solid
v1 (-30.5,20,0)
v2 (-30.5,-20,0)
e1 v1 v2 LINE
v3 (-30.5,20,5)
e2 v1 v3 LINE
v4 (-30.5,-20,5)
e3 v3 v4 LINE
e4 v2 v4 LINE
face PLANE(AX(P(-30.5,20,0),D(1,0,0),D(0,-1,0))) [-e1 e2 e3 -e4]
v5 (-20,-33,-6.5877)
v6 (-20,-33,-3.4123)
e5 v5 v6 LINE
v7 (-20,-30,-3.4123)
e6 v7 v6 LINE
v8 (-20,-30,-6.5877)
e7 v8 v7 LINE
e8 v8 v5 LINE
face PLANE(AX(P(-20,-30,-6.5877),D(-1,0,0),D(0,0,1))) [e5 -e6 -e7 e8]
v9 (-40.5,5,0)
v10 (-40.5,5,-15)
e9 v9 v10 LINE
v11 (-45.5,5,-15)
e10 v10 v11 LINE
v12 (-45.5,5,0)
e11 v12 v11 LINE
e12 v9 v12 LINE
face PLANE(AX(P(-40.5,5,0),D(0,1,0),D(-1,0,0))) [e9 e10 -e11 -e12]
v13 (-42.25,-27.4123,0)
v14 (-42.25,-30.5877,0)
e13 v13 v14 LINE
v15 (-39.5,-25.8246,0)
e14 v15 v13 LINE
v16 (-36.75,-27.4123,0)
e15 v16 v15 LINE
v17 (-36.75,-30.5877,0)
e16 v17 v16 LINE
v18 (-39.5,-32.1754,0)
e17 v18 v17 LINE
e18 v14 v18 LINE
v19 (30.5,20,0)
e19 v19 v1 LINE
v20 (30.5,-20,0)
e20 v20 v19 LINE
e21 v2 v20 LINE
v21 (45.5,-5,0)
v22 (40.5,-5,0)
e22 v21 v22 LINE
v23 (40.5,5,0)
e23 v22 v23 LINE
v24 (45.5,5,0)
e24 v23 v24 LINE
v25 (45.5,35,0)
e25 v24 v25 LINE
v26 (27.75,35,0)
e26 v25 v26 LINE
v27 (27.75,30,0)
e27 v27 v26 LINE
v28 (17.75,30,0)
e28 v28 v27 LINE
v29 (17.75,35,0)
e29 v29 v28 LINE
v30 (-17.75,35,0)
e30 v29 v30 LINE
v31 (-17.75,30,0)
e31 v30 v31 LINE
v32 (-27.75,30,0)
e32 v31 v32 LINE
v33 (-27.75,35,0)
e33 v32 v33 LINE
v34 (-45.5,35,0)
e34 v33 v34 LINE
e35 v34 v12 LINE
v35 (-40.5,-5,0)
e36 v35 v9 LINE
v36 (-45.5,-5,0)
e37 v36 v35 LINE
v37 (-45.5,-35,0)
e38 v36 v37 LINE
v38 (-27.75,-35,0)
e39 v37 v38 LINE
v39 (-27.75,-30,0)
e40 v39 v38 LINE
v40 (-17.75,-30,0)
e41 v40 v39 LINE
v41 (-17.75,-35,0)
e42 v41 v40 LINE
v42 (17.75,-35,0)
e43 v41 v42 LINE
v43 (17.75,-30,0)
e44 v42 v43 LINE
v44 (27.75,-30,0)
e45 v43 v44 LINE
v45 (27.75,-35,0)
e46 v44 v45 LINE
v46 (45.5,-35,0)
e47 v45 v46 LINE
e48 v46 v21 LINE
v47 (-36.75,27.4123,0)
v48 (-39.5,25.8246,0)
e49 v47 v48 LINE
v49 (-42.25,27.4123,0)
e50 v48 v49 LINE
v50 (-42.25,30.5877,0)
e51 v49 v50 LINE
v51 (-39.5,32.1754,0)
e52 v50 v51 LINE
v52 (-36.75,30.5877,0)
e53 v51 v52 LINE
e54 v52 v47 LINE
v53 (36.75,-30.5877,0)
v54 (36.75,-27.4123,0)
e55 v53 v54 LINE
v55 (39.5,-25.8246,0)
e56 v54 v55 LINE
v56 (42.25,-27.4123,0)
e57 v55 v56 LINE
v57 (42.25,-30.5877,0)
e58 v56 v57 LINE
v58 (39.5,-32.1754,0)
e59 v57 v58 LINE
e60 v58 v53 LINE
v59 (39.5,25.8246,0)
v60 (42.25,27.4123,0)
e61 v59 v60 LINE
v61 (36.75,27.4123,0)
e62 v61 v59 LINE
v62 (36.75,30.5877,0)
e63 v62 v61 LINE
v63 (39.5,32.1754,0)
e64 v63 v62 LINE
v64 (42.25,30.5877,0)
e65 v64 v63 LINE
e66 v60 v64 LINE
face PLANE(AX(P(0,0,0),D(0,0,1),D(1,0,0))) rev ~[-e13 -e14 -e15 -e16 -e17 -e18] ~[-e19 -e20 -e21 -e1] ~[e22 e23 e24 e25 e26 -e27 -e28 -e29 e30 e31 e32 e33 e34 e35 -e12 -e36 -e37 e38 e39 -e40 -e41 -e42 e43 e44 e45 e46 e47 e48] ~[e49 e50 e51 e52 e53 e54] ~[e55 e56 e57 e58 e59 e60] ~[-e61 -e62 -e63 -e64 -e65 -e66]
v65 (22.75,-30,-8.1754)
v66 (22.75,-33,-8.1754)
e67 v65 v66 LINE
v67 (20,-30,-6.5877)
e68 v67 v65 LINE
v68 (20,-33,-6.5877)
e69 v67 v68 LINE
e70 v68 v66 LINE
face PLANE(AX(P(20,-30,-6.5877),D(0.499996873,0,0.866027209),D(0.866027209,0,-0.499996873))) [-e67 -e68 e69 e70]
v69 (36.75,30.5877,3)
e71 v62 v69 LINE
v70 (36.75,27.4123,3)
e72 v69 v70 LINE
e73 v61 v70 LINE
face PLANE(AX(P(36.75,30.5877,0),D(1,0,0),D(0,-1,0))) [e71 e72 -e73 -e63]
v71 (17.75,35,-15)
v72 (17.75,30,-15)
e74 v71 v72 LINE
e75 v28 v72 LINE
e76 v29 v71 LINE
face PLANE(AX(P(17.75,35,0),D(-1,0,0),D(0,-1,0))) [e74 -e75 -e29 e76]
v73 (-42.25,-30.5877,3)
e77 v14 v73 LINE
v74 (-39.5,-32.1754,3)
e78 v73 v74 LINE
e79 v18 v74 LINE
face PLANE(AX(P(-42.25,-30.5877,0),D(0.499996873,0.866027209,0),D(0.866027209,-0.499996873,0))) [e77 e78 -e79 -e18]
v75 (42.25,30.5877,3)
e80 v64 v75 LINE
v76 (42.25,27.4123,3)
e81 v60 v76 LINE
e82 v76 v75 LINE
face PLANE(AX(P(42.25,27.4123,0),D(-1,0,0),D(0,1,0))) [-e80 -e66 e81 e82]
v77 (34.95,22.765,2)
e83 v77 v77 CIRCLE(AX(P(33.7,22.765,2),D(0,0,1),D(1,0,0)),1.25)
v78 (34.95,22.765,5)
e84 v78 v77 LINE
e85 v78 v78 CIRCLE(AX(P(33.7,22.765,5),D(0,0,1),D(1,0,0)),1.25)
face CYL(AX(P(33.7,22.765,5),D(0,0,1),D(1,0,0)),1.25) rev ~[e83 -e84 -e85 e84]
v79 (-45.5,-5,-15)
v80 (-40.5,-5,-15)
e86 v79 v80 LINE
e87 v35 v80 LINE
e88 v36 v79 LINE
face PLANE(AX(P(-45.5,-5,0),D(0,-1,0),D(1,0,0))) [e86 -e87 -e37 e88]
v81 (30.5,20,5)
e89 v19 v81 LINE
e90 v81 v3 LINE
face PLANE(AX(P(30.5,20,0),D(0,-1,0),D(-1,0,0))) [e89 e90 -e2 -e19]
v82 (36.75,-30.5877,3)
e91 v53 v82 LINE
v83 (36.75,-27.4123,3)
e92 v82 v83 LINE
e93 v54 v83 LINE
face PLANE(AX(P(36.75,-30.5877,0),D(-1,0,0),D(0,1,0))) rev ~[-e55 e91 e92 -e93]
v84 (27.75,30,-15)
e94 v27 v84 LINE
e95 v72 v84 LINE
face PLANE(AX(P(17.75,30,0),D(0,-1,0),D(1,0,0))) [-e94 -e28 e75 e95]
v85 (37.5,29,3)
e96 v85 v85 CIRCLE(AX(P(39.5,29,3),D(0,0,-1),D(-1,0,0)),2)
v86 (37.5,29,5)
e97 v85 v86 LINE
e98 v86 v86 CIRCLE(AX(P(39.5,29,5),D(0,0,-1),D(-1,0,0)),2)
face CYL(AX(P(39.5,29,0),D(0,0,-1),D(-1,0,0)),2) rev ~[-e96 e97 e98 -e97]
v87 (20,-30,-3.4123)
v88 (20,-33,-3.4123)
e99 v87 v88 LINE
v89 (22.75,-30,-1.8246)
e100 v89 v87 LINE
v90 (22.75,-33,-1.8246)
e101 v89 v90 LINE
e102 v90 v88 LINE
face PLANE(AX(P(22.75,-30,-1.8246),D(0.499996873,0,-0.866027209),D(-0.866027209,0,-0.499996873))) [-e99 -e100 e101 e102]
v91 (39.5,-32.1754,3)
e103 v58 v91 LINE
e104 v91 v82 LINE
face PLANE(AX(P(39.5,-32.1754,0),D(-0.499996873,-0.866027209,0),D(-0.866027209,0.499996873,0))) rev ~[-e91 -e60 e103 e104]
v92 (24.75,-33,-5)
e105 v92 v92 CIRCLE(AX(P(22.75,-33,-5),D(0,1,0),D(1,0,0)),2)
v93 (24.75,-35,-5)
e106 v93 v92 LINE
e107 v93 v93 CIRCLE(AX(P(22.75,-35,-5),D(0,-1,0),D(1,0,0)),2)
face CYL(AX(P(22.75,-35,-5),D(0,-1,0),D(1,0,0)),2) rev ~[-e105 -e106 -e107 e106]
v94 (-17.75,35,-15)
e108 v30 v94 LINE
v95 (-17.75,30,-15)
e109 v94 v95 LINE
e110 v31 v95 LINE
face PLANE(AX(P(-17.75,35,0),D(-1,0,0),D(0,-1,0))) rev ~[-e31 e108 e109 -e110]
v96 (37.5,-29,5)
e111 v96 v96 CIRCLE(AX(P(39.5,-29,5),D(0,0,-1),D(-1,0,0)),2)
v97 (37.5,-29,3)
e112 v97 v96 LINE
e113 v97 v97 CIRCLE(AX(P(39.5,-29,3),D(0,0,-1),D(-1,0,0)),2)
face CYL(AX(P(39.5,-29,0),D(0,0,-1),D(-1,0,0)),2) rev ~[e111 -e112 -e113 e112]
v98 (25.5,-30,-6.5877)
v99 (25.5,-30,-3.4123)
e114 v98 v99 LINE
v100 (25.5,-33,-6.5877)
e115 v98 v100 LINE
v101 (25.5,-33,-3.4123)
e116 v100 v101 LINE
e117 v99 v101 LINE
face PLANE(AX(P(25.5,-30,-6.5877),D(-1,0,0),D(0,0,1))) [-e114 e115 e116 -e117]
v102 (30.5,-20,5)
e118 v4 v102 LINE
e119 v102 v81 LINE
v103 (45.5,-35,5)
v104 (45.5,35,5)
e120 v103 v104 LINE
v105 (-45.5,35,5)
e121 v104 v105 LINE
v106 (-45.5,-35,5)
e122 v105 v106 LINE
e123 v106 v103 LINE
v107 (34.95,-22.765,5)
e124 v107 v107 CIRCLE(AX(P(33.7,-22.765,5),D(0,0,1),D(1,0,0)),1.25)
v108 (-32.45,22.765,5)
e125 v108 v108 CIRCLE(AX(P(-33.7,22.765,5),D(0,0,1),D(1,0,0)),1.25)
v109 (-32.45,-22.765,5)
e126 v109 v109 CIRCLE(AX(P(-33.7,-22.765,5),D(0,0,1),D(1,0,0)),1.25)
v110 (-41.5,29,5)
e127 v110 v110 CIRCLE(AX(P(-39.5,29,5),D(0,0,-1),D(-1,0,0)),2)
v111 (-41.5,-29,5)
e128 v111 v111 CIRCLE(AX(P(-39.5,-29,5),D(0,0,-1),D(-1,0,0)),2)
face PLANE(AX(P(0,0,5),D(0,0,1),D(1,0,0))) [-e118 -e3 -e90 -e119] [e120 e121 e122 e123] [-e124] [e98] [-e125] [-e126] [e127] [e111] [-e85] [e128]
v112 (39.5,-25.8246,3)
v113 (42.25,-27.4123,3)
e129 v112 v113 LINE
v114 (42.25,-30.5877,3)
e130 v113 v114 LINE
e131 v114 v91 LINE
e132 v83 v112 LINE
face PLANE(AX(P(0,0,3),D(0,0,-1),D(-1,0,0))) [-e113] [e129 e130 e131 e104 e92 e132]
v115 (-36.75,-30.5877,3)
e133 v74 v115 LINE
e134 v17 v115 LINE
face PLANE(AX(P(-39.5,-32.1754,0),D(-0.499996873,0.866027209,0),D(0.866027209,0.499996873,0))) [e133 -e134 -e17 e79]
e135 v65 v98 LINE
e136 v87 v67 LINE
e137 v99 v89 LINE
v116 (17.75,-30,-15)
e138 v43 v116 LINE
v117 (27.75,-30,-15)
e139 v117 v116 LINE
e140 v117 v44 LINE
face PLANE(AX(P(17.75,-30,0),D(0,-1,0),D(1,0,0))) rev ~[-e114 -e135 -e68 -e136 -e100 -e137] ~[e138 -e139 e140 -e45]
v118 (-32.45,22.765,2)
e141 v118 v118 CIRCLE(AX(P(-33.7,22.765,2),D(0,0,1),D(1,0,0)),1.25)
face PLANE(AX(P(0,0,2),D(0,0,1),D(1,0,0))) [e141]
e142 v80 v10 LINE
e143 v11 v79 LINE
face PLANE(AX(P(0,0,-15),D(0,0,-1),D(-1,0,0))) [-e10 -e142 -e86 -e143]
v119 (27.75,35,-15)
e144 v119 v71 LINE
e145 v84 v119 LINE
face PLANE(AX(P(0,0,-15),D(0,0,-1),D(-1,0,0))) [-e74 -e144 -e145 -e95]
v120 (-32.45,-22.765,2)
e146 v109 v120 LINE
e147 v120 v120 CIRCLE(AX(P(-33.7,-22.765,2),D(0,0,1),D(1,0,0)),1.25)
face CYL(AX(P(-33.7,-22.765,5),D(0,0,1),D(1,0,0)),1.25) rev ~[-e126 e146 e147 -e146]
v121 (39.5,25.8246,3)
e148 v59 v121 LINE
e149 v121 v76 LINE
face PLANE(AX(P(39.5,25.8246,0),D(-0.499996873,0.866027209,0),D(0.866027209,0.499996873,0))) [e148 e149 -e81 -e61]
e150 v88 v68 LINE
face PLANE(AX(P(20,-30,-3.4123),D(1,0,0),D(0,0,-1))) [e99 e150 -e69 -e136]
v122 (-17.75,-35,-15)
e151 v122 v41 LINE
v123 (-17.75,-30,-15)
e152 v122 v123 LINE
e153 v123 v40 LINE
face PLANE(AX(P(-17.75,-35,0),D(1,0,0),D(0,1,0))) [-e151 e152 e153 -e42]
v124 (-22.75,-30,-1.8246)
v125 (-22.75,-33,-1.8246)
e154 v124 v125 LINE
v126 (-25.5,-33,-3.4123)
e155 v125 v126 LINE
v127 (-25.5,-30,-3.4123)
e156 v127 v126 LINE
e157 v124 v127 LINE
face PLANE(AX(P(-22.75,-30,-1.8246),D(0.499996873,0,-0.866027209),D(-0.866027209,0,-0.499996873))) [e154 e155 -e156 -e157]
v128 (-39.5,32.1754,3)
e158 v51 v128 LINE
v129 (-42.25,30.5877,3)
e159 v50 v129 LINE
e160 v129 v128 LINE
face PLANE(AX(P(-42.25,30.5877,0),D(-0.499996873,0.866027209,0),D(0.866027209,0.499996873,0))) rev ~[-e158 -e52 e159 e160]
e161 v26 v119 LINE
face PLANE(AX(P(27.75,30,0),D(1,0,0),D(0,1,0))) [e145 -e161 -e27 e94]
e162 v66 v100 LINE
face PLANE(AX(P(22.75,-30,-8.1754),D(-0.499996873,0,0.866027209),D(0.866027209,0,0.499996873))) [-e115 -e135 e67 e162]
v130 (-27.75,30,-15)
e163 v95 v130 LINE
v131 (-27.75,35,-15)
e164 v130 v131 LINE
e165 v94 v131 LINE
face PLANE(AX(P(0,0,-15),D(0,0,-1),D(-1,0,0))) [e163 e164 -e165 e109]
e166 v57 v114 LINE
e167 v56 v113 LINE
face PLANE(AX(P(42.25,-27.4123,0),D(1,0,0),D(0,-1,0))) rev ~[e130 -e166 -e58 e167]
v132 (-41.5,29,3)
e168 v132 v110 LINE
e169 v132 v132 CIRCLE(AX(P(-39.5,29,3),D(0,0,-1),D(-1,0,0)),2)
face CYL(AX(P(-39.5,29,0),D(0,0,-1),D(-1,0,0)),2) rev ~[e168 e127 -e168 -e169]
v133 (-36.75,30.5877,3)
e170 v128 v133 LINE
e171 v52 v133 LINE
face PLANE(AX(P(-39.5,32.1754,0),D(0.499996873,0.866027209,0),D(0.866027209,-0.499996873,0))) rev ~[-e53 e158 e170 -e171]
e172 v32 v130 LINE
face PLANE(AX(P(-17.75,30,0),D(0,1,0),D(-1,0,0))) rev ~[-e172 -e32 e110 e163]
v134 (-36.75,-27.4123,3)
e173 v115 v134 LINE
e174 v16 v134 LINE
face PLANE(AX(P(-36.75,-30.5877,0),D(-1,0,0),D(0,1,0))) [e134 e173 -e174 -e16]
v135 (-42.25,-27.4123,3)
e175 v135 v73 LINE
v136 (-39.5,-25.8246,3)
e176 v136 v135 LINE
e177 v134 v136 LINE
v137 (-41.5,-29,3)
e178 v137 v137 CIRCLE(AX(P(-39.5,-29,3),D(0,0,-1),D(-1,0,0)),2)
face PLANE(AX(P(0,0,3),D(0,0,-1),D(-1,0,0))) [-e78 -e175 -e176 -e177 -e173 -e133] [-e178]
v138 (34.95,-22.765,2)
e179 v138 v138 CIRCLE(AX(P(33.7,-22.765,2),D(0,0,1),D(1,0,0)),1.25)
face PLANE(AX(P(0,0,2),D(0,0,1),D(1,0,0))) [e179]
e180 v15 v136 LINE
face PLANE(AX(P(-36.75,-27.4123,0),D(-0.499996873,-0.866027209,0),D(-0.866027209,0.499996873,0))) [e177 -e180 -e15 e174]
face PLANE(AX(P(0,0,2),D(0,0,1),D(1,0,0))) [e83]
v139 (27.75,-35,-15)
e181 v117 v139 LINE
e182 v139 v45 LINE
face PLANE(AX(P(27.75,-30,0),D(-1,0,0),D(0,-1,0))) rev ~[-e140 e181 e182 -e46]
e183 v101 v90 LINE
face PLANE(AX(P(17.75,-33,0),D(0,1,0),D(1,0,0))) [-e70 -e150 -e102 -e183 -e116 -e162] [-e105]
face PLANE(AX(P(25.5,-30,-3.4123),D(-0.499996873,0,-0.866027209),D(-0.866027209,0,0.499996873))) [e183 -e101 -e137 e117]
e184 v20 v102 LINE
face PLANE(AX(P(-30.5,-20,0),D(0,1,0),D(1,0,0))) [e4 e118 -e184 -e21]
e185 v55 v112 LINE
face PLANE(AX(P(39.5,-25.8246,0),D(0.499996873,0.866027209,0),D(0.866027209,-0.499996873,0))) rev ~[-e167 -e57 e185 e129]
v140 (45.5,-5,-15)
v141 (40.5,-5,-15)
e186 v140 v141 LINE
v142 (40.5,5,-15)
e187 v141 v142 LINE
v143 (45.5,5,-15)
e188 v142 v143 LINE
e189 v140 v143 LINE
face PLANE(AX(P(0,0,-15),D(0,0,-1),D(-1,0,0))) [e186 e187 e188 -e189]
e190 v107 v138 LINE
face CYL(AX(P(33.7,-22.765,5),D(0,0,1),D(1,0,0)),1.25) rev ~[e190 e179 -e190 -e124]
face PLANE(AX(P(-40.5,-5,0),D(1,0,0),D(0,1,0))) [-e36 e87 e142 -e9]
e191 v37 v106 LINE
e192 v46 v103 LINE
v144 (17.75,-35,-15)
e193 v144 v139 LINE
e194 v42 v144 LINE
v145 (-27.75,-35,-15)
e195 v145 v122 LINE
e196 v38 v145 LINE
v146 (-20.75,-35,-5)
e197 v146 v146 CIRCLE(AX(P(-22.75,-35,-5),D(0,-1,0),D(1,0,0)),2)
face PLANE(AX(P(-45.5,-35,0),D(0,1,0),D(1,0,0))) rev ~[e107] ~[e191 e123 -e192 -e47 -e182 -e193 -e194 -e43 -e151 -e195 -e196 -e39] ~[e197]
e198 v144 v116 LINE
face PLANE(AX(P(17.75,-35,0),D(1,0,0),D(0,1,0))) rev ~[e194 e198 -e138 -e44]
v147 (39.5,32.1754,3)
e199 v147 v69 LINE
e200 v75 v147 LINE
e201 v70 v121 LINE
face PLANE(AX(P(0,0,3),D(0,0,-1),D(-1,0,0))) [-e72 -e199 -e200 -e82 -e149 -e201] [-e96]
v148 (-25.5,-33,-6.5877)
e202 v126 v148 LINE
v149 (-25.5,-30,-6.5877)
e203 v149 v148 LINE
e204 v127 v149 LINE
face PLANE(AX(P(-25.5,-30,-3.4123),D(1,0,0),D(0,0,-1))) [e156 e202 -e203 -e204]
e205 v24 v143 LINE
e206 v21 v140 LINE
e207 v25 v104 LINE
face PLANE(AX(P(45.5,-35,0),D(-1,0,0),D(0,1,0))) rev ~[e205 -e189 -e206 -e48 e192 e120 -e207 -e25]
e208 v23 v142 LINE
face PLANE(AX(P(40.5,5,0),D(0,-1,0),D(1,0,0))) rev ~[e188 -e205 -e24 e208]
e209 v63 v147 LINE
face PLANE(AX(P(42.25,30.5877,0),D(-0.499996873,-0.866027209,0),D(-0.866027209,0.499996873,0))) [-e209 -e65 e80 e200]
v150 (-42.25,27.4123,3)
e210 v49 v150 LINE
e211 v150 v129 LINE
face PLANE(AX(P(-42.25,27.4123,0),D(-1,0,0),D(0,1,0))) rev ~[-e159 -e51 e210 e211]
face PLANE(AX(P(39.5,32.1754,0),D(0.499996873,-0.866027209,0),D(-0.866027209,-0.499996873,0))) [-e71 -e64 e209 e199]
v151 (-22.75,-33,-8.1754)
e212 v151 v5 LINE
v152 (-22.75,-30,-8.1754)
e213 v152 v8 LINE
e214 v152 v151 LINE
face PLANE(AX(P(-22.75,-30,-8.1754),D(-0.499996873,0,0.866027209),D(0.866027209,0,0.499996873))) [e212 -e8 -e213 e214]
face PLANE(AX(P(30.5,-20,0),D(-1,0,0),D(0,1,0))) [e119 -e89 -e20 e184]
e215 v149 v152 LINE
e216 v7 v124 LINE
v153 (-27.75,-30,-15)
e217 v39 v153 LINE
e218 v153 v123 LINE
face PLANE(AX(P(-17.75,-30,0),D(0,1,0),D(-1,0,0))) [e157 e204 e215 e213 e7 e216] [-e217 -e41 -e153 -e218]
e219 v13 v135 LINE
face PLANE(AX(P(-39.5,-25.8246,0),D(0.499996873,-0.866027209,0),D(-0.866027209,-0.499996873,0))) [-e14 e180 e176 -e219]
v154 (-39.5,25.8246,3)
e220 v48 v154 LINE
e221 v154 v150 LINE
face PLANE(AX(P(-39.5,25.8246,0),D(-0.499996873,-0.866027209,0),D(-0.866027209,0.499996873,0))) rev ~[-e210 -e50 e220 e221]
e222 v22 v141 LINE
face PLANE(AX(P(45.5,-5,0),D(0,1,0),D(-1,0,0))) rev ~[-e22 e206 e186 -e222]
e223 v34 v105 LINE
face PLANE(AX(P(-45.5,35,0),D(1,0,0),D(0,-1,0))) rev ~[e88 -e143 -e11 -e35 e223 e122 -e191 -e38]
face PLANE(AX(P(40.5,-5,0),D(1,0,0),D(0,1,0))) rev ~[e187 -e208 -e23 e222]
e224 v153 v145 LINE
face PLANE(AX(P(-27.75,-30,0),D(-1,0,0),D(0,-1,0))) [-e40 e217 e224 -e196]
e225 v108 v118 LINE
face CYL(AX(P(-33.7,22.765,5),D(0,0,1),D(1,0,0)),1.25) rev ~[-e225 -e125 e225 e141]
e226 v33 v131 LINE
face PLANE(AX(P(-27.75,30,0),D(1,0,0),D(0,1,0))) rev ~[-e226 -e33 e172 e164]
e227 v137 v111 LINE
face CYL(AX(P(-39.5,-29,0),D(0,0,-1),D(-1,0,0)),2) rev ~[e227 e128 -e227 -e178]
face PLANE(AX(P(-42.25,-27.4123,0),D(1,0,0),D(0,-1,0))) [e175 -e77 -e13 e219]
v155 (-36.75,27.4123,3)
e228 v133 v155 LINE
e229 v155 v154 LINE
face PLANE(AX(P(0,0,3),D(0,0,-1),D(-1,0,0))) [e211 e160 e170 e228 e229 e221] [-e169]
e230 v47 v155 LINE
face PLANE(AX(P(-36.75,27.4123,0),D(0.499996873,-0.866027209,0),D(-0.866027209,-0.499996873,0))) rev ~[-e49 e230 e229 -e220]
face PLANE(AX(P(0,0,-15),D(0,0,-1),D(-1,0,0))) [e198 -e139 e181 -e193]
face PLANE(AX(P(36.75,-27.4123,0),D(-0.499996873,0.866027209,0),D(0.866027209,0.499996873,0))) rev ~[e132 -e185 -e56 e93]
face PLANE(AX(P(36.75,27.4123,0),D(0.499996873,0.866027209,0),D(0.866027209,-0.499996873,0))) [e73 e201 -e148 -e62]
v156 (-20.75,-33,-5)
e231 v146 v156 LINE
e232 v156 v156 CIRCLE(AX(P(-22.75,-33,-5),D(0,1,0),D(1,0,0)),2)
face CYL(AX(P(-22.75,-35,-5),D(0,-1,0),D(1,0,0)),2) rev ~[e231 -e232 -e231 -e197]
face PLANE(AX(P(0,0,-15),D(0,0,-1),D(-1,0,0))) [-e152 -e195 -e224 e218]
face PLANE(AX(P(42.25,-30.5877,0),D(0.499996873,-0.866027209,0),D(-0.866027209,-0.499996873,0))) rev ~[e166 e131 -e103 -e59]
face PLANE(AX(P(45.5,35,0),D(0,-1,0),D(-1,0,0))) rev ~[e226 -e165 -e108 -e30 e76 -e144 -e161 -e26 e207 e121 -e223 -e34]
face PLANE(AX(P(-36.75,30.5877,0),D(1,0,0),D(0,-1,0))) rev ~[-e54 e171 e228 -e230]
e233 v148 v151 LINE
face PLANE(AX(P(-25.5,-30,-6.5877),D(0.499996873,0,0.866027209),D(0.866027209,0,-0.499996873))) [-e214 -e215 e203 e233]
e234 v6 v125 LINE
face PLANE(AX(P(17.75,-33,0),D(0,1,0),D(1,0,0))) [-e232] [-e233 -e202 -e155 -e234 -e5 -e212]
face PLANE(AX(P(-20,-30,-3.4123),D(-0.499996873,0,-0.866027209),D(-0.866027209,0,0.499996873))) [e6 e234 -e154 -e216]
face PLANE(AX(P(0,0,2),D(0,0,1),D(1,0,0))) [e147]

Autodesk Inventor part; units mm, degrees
ref_plane "YZ Plane" through (0, 0, 0) normal (1, 0, 0) x (0, 1, 0)
ref_plane "XZ Plane" through (0, 0, 0) normal (0, 1, 0) x (-1, 0, 0)
ref_plane "XY Plane" through (0, 0, 0) normal (0, 0, 1) x (1, 0, 0)
sketch "Sketch1" plane through (0, 0, 0) normal (0, 0, 1) x (1, 0, 0)
  line L0 (-30.5, -20) -> (30.5, -20)
  line L1 (30.5, -20) -> (30.5, 20)
  line L2 (30.5, 20) -> (-30.5, 20)
  line L3 (-30.5, 20) -> (-30.5, -20)
  line L4 (-30.5, -20) -> (30.5, 20) construction
  line L5 (30.5, -20) -> (-30.5, 20) construction
  line L6 (-45.5, -35) -> (45.5, -35)
  line L7 (45.5, -35) -> (45.5, 35)
  line L8 (45.5, 35) -> (-45.5, 35)
  line L9 (-45.5, 35) -> (-45.5, -35)
  line L10 (-45.5, -35) -> (45.5, 35) construction
  line L11 (45.5, -35) -> (-45.5, 35) construction
  point P0 (0, 0)
  dimension "d0" = 61
  dimension "d1" = 40
  dimension "d2" = 15
  dimension "d3" = 15
extrude "Rim" add sketch "Sketch1" along normal blind 5
sketch "Sketch2" plane through (0, 0, 5) normal (0, 0, 1) x (1, 0, 0)
  line L0 (-33.7, -22.765) -> (33.7, -22.765) construction
  line L1 (33.7, -22.765) -> (33.7, 22.765) construction
  line L2 (33.7, 22.765) -> (-33.7, 22.765) construction
  line L3 (-33.7, 22.765) -> (-33.7, -22.765) construction
  line L4 (-33.7, -22.765) -> (33.7, 22.765) construction
  line L5 (33.7, -22.765) -> (-33.7, 22.765) construction
  circle A0 centre (33.7, 22.765) radius 1.25
  line L6 (0, 22.765) -> (0, -22.765) construction
  line L7 (-30.5, -20) -> (-30.5, 20) projected
  line L8 (-30.5, 0) -> (33.7, 0) construction
  circle A1 centre (-33.7, 22.765) radius 1.25
  circle A2 centre (33.7, -22.765) radius 1.25
  circle A3 centre (-33.7, -22.765) radius 1.25
  point P0 (0, 0)
  dimension "d6" = 67.4
  dimension "d7" = 45.53
  dimension "d8" = 2.5
extrude "Pegs" cut sketch "Sketch2" against normal blind 3
sketch "Sketch3" plane through (0, 0, 0) normal (0, 0, -1) x (-1, 0, 0)
  line L0 (-39.5, 25.8246) -> (-42.25, 27.4123)
  line L1 (-36.75, 27.4123) -> (-39.5, 25.8246)
  line L2 (-42.25, 27.4123) -> (-42.25, 30.5877)
  line L3 (-36.75, 30.5877) -> (-36.75, 27.4123)
  circle A0 centre (-39.5, 29) radius 2
  line L4 (-39.5, 32.1754) -> (-36.75, 30.5877)
  line L5 (-42.25, 30.5877) -> (-39.5, 32.1754)
  line L6 (-45.5, 35) -> (35.9035, 35)
  line L7 (-45.5, 35) -> (-45.5, 29)
  line L8 (-45.5, -35) -> (-45.5, 35) projected
  line L9 (-45.5, 29) -> (-39.5, 29) construction
  line L10 (-45.5, -35) -> (-45.5, 35) projected
  line L11 (-45.5, 35) -> (45.5, 35) projected
  line L12 (0, 35) -> (0, -35) construction
  line L13 (45.5, -35) -> (-45.5, -35) projected
  line L14 (-45.5, 0) -> (45.5, 0) construction
  line L15 (45.5, 35) -> (45.5, -35) projected
  line L16 (39.5, 25.8246) -> (42.25, 27.4123)
  line L17 (36.75, 27.4123) -> (39.5, 25.8246)
  line L18 (42.25, 27.4123) -> (42.25, 30.5877)
  line L19 (36.75, 30.5877) -> (36.75, 27.4123)
  circle A1 centre (39.5, 29) radius 2
  line L20 (39.5, 32.1754) -> (36.75, 30.5877)
  line L21 (42.25, 30.5877) -> (39.5, 32.1754)
  line L22 (45.5, 29) -> (39.5, 29) construction
  line L23 (-39.5, -25.8246) -> (-42.25, -27.4123)
  line L24 (-36.75, -27.4123) -> (-39.5, -25.8246)
  line L25 (-42.25, -27.4123) -> (-42.25, -30.5877)
  line L26 (-36.75, -30.5877) -> (-36.75, -27.4123)
  circle A2 centre (-39.5, -29) radius 2
  line L27 (-39.5, -32.1754) -> (-36.75, -30.5877)
  line L28 (-42.25, -30.5877) -> (-39.5, -32.1754)
  line L29 (36.75, -30.5877) -> (36.75, -27.4123)
  line L30 (39.5, -32.1754) -> (36.75, -30.5877)
  circle A3 centre (39.5, -29) radius 2
  line L31 (42.25, -30.5877) -> (39.5, -32.1754)
  line L32 (42.25, -27.4123) -> (42.25, -30.5877)
  line L33 (39.5, -25.8246) -> (42.25, -27.4123)
  line L34 (36.75, -27.4123) -> (39.5, -25.8246)
  point P0 (0, 0)
  dimension "d11" = 3.1754
  dimension "d12" = 4
  dimension "d13" = 6
  dimension "d14" = 6
extrude "Nut Hexes" cut sketch "Sketch3" against normal blind 3 contours L0 L2 L5 L4 L3 L1 | L17 L19 L20 L21 L18 L16 | L24 L26 L27 L28 L25 L23 | L29 L34 L33 L32 L31 L30
sketch "Sketch4" plane through (0, 0, 0) normal (0, 0, -1) x (-1, 0, 0)
  circle A0 centre (-39.5, 29) radius 2 projected
  circle A1 centre (39.5, 29) radius 2 projected
  circle A2 centre (39.5, -29) radius 2 projected
  circle A3 centre (-39.5, -29) radius 2 projected
  point P0 (0, 0)
extrude "Bolt Holes" cut sketch "Sketch4" against normal up to next
sketch "For Construction" plane through (0, 0, 5) normal (0, 0, 1) x (1, 0, 0)
  circle A0 centre (33.7, -22.765) radius 1.25 projected
  circle A1 centre (39.5, -29) radius 2 projected
  point P0 (0, 0)
  point P1 (34.95, -22.765)
  point P2 (37.901, -27.7986)
  dimension "d19" = 5.2656
sketch "Sketch7" plane through (0, 0, 0) normal (0, 0, -1) x (-1, 0, 0)
  line L0 (45.5, -35) -> (-45.5, -35) projected
  line L1 (45.5, -35) -> (0, -35)
  line L2 (27.75, -35) -> (17.75, -35)
  line L3 (17.75, -35) -> (17.75, -30)
  line L4 (17.75, -30) -> (27.75, -30)
  line L5 (27.75, -30) -> (27.75, -35)
  line L6 (0, -35) -> (0, 35.2559) construction
  line L7 (-27.75, -35) -> (-17.75, -35)
  line L8 (-17.75, -35) -> (-17.75, -30)
  line L9 (-17.75, -30) -> (-27.75, -30)
  line L10 (-27.75, -30) -> (-27.75, -35)
  point P0 (0, 0)
  point P1 (22.75, -35)
  point P2 (-22.75, -35)
  dimension "d20" = 5
  dimension "d21" = 10
extrude "Attachment Points" add sketch "Sketch7" along normal blind 10
sketch "Sketch9" plane through (-45.5, -35, 5) normal (0, -1, 0) x (1, 0, 0)
  circle A0 centre (22.75, -10) radius 2 projected
  circle A1 centre (68.25, -10) radius 2 projected
  point P0 (45.5, -5)
  point P1 (22.75, -8)
  point P2 (68.25, -8)
extrude "Connection Holes" cut sketch "Sketch9" against normal up to next
sketch "Sketch10" plane through (0, 0, 0) normal (0, 0, -1) x (-1, 0, 0)
  line L0 (45.5, 35) -> (45.5, -35) projected
  line L1 (-45.5, -35) -> (-45.5, 35) projected
  line L2 (-45.5, 35) -> (45.5, 35) projected
  line L3 (0, 35) -> (45.5, 35)
  line L4 (0, 35) -> (-45.5, 35)
  line L5 (45.5, -5) -> (40.5, -5)
  line L6 (40.5, -5) -> (40.5, 5)
  line L7 (40.5, 5) -> (45.5, 5)
  line L8 (45.5, 5) -> (45.5, -5)
  line L9 (17.75, -35) -> (-17.75, -35) projected
  line L10 (0, -35) -> (0, -19.876) construction
  line L11 (-45.5, 35) -> (-45.5, -35)
  line L12 (-45.5, -5) -> (-40.5, -5)
  line L13 (-40.5, -5) -> (-40.5, 5)
  line L14 (-40.5, 5) -> (-45.5, 5)
  line L15 (-45.5, 5) -> (-45.5, -5)
  line L16 (27.75, 35) -> (17.75, 35)
  line L17 (17.75, 35) -> (17.75, 30)
  line L18 (17.75, 30) -> (27.75, 30)
  line L19 (27.75, 30) -> (27.75, 35)
  line L20 (-27.75, 35) -> (-17.75, 35)
  line L21 (-17.75, 35) -> (-17.75, 30)
  line L22 (-17.75, 30) -> (-27.75, 30)
  line L23 (-27.75, 30) -> (-27.75, 35)
  point P0 (0, 0)
  point P1 (45.5, 0)
  point P2 (-45.5, 0)
  point P3 (22.75, 35)
  point P4 (-22.75, 35)
  point P5 (45.5, 0)
  point P6 (-45.5, 0)
  point P7 (-45.5, 0)
  dimension "d28" = 5
  dimension "d29" = 10
  dimension "d30" = 5
  dimension "d31" = 10
extrude "Legs 1" add sketch "Sketch10" along normal blind 15
sketch "Sketch11" plane through (0, 0, -10) normal (0, 0, -1) x (-1, 0, 0)
  line L0 (27.75, -30) -> (27.75, -35) projected
  line L1 (27.75, -30) -> (17.75, -30) projected
  line L2 (27.75, -35) -> (17.75, -35)
  line L3 (17.75, -35) -> (17.75, -30)
  line L4 (17.75, -30) -> (27.75, -30)
  line L5 (27.75, -30) -> (27.75, -35)
  line L6 (-17.75, -35) -> (-17.75, -30) projected
  line L7 (-27.75, -30) -> (-27.75, -35) projected
  line L8 (-17.75, -35) -> (-27.75, -35)
  line L9 (-27.75, -35) -> (-27.75, -30)
  line L10 (-27.75, -30) -> (-17.75, -30)
  line L11 (-17.75, -30) -> (-17.75, -35)
  point P0 (0, 0)
extrude "Extrusion9" add sketch "Sketch11" along normal blind 5
ref_plane "Work Plane2" through (-30.5, 0, 0) normal (0, 1, 0) x (1, 0, 0)
sketch "Sketch12" plane through (17.75, -30, 0) normal (0, 1, 0) x (1, 0, 0)
  line L0 (5, 1.8246) -> (2.25, 3.4123)
  line L1 (7.75, 3.4123) -> (5, 1.8246)
  line L2 (2.25, 3.4123) -> (2.25, 6.5877)
  line L3 (7.75, 6.5877) -> (7.75, 3.4123)
  line L4 (5, 8.1754) -> (7.75, 6.5877)
  line L5 (2.25, 6.5877) -> (5, 8.1754)
  circle A0 centre (5, 5) radius 2 projected
  line L6 (0, 0) -> (0, 15) projected
  line L7 (-40.5, 1.8246) -> (-43.25, 3.4123)
  line L8 (-37.75, 3.4123) -> (-40.5, 1.8246)
  line L9 (-43.25, 3.4123) -> (-43.25, 6.5877)
  line L10 (-37.75, 6.5877) -> (-37.75, 3.4123)
  line L11 (-40.5, 8.1754) -> (-37.75, 6.5877)
  line L12 (-43.25, 6.5877) -> (-40.5, 8.1754)
  circle A1 centre (-40.5, 5) radius 2 projected
  line L13 (-35.5, 0) -> (-35.5, 15) projected
  point P0 (-17.75, 0)
  point P1 (-5.2731, 15.8695)
  point P2 (-26.4318, 33.2663)
  dimension "d36" = 3.1754
  dimension "d38" = 3.1754
extrude "Extrusion10" cut sketch "Sketch12" against normal blind 3
properties part number "Joystickboard Holder"
